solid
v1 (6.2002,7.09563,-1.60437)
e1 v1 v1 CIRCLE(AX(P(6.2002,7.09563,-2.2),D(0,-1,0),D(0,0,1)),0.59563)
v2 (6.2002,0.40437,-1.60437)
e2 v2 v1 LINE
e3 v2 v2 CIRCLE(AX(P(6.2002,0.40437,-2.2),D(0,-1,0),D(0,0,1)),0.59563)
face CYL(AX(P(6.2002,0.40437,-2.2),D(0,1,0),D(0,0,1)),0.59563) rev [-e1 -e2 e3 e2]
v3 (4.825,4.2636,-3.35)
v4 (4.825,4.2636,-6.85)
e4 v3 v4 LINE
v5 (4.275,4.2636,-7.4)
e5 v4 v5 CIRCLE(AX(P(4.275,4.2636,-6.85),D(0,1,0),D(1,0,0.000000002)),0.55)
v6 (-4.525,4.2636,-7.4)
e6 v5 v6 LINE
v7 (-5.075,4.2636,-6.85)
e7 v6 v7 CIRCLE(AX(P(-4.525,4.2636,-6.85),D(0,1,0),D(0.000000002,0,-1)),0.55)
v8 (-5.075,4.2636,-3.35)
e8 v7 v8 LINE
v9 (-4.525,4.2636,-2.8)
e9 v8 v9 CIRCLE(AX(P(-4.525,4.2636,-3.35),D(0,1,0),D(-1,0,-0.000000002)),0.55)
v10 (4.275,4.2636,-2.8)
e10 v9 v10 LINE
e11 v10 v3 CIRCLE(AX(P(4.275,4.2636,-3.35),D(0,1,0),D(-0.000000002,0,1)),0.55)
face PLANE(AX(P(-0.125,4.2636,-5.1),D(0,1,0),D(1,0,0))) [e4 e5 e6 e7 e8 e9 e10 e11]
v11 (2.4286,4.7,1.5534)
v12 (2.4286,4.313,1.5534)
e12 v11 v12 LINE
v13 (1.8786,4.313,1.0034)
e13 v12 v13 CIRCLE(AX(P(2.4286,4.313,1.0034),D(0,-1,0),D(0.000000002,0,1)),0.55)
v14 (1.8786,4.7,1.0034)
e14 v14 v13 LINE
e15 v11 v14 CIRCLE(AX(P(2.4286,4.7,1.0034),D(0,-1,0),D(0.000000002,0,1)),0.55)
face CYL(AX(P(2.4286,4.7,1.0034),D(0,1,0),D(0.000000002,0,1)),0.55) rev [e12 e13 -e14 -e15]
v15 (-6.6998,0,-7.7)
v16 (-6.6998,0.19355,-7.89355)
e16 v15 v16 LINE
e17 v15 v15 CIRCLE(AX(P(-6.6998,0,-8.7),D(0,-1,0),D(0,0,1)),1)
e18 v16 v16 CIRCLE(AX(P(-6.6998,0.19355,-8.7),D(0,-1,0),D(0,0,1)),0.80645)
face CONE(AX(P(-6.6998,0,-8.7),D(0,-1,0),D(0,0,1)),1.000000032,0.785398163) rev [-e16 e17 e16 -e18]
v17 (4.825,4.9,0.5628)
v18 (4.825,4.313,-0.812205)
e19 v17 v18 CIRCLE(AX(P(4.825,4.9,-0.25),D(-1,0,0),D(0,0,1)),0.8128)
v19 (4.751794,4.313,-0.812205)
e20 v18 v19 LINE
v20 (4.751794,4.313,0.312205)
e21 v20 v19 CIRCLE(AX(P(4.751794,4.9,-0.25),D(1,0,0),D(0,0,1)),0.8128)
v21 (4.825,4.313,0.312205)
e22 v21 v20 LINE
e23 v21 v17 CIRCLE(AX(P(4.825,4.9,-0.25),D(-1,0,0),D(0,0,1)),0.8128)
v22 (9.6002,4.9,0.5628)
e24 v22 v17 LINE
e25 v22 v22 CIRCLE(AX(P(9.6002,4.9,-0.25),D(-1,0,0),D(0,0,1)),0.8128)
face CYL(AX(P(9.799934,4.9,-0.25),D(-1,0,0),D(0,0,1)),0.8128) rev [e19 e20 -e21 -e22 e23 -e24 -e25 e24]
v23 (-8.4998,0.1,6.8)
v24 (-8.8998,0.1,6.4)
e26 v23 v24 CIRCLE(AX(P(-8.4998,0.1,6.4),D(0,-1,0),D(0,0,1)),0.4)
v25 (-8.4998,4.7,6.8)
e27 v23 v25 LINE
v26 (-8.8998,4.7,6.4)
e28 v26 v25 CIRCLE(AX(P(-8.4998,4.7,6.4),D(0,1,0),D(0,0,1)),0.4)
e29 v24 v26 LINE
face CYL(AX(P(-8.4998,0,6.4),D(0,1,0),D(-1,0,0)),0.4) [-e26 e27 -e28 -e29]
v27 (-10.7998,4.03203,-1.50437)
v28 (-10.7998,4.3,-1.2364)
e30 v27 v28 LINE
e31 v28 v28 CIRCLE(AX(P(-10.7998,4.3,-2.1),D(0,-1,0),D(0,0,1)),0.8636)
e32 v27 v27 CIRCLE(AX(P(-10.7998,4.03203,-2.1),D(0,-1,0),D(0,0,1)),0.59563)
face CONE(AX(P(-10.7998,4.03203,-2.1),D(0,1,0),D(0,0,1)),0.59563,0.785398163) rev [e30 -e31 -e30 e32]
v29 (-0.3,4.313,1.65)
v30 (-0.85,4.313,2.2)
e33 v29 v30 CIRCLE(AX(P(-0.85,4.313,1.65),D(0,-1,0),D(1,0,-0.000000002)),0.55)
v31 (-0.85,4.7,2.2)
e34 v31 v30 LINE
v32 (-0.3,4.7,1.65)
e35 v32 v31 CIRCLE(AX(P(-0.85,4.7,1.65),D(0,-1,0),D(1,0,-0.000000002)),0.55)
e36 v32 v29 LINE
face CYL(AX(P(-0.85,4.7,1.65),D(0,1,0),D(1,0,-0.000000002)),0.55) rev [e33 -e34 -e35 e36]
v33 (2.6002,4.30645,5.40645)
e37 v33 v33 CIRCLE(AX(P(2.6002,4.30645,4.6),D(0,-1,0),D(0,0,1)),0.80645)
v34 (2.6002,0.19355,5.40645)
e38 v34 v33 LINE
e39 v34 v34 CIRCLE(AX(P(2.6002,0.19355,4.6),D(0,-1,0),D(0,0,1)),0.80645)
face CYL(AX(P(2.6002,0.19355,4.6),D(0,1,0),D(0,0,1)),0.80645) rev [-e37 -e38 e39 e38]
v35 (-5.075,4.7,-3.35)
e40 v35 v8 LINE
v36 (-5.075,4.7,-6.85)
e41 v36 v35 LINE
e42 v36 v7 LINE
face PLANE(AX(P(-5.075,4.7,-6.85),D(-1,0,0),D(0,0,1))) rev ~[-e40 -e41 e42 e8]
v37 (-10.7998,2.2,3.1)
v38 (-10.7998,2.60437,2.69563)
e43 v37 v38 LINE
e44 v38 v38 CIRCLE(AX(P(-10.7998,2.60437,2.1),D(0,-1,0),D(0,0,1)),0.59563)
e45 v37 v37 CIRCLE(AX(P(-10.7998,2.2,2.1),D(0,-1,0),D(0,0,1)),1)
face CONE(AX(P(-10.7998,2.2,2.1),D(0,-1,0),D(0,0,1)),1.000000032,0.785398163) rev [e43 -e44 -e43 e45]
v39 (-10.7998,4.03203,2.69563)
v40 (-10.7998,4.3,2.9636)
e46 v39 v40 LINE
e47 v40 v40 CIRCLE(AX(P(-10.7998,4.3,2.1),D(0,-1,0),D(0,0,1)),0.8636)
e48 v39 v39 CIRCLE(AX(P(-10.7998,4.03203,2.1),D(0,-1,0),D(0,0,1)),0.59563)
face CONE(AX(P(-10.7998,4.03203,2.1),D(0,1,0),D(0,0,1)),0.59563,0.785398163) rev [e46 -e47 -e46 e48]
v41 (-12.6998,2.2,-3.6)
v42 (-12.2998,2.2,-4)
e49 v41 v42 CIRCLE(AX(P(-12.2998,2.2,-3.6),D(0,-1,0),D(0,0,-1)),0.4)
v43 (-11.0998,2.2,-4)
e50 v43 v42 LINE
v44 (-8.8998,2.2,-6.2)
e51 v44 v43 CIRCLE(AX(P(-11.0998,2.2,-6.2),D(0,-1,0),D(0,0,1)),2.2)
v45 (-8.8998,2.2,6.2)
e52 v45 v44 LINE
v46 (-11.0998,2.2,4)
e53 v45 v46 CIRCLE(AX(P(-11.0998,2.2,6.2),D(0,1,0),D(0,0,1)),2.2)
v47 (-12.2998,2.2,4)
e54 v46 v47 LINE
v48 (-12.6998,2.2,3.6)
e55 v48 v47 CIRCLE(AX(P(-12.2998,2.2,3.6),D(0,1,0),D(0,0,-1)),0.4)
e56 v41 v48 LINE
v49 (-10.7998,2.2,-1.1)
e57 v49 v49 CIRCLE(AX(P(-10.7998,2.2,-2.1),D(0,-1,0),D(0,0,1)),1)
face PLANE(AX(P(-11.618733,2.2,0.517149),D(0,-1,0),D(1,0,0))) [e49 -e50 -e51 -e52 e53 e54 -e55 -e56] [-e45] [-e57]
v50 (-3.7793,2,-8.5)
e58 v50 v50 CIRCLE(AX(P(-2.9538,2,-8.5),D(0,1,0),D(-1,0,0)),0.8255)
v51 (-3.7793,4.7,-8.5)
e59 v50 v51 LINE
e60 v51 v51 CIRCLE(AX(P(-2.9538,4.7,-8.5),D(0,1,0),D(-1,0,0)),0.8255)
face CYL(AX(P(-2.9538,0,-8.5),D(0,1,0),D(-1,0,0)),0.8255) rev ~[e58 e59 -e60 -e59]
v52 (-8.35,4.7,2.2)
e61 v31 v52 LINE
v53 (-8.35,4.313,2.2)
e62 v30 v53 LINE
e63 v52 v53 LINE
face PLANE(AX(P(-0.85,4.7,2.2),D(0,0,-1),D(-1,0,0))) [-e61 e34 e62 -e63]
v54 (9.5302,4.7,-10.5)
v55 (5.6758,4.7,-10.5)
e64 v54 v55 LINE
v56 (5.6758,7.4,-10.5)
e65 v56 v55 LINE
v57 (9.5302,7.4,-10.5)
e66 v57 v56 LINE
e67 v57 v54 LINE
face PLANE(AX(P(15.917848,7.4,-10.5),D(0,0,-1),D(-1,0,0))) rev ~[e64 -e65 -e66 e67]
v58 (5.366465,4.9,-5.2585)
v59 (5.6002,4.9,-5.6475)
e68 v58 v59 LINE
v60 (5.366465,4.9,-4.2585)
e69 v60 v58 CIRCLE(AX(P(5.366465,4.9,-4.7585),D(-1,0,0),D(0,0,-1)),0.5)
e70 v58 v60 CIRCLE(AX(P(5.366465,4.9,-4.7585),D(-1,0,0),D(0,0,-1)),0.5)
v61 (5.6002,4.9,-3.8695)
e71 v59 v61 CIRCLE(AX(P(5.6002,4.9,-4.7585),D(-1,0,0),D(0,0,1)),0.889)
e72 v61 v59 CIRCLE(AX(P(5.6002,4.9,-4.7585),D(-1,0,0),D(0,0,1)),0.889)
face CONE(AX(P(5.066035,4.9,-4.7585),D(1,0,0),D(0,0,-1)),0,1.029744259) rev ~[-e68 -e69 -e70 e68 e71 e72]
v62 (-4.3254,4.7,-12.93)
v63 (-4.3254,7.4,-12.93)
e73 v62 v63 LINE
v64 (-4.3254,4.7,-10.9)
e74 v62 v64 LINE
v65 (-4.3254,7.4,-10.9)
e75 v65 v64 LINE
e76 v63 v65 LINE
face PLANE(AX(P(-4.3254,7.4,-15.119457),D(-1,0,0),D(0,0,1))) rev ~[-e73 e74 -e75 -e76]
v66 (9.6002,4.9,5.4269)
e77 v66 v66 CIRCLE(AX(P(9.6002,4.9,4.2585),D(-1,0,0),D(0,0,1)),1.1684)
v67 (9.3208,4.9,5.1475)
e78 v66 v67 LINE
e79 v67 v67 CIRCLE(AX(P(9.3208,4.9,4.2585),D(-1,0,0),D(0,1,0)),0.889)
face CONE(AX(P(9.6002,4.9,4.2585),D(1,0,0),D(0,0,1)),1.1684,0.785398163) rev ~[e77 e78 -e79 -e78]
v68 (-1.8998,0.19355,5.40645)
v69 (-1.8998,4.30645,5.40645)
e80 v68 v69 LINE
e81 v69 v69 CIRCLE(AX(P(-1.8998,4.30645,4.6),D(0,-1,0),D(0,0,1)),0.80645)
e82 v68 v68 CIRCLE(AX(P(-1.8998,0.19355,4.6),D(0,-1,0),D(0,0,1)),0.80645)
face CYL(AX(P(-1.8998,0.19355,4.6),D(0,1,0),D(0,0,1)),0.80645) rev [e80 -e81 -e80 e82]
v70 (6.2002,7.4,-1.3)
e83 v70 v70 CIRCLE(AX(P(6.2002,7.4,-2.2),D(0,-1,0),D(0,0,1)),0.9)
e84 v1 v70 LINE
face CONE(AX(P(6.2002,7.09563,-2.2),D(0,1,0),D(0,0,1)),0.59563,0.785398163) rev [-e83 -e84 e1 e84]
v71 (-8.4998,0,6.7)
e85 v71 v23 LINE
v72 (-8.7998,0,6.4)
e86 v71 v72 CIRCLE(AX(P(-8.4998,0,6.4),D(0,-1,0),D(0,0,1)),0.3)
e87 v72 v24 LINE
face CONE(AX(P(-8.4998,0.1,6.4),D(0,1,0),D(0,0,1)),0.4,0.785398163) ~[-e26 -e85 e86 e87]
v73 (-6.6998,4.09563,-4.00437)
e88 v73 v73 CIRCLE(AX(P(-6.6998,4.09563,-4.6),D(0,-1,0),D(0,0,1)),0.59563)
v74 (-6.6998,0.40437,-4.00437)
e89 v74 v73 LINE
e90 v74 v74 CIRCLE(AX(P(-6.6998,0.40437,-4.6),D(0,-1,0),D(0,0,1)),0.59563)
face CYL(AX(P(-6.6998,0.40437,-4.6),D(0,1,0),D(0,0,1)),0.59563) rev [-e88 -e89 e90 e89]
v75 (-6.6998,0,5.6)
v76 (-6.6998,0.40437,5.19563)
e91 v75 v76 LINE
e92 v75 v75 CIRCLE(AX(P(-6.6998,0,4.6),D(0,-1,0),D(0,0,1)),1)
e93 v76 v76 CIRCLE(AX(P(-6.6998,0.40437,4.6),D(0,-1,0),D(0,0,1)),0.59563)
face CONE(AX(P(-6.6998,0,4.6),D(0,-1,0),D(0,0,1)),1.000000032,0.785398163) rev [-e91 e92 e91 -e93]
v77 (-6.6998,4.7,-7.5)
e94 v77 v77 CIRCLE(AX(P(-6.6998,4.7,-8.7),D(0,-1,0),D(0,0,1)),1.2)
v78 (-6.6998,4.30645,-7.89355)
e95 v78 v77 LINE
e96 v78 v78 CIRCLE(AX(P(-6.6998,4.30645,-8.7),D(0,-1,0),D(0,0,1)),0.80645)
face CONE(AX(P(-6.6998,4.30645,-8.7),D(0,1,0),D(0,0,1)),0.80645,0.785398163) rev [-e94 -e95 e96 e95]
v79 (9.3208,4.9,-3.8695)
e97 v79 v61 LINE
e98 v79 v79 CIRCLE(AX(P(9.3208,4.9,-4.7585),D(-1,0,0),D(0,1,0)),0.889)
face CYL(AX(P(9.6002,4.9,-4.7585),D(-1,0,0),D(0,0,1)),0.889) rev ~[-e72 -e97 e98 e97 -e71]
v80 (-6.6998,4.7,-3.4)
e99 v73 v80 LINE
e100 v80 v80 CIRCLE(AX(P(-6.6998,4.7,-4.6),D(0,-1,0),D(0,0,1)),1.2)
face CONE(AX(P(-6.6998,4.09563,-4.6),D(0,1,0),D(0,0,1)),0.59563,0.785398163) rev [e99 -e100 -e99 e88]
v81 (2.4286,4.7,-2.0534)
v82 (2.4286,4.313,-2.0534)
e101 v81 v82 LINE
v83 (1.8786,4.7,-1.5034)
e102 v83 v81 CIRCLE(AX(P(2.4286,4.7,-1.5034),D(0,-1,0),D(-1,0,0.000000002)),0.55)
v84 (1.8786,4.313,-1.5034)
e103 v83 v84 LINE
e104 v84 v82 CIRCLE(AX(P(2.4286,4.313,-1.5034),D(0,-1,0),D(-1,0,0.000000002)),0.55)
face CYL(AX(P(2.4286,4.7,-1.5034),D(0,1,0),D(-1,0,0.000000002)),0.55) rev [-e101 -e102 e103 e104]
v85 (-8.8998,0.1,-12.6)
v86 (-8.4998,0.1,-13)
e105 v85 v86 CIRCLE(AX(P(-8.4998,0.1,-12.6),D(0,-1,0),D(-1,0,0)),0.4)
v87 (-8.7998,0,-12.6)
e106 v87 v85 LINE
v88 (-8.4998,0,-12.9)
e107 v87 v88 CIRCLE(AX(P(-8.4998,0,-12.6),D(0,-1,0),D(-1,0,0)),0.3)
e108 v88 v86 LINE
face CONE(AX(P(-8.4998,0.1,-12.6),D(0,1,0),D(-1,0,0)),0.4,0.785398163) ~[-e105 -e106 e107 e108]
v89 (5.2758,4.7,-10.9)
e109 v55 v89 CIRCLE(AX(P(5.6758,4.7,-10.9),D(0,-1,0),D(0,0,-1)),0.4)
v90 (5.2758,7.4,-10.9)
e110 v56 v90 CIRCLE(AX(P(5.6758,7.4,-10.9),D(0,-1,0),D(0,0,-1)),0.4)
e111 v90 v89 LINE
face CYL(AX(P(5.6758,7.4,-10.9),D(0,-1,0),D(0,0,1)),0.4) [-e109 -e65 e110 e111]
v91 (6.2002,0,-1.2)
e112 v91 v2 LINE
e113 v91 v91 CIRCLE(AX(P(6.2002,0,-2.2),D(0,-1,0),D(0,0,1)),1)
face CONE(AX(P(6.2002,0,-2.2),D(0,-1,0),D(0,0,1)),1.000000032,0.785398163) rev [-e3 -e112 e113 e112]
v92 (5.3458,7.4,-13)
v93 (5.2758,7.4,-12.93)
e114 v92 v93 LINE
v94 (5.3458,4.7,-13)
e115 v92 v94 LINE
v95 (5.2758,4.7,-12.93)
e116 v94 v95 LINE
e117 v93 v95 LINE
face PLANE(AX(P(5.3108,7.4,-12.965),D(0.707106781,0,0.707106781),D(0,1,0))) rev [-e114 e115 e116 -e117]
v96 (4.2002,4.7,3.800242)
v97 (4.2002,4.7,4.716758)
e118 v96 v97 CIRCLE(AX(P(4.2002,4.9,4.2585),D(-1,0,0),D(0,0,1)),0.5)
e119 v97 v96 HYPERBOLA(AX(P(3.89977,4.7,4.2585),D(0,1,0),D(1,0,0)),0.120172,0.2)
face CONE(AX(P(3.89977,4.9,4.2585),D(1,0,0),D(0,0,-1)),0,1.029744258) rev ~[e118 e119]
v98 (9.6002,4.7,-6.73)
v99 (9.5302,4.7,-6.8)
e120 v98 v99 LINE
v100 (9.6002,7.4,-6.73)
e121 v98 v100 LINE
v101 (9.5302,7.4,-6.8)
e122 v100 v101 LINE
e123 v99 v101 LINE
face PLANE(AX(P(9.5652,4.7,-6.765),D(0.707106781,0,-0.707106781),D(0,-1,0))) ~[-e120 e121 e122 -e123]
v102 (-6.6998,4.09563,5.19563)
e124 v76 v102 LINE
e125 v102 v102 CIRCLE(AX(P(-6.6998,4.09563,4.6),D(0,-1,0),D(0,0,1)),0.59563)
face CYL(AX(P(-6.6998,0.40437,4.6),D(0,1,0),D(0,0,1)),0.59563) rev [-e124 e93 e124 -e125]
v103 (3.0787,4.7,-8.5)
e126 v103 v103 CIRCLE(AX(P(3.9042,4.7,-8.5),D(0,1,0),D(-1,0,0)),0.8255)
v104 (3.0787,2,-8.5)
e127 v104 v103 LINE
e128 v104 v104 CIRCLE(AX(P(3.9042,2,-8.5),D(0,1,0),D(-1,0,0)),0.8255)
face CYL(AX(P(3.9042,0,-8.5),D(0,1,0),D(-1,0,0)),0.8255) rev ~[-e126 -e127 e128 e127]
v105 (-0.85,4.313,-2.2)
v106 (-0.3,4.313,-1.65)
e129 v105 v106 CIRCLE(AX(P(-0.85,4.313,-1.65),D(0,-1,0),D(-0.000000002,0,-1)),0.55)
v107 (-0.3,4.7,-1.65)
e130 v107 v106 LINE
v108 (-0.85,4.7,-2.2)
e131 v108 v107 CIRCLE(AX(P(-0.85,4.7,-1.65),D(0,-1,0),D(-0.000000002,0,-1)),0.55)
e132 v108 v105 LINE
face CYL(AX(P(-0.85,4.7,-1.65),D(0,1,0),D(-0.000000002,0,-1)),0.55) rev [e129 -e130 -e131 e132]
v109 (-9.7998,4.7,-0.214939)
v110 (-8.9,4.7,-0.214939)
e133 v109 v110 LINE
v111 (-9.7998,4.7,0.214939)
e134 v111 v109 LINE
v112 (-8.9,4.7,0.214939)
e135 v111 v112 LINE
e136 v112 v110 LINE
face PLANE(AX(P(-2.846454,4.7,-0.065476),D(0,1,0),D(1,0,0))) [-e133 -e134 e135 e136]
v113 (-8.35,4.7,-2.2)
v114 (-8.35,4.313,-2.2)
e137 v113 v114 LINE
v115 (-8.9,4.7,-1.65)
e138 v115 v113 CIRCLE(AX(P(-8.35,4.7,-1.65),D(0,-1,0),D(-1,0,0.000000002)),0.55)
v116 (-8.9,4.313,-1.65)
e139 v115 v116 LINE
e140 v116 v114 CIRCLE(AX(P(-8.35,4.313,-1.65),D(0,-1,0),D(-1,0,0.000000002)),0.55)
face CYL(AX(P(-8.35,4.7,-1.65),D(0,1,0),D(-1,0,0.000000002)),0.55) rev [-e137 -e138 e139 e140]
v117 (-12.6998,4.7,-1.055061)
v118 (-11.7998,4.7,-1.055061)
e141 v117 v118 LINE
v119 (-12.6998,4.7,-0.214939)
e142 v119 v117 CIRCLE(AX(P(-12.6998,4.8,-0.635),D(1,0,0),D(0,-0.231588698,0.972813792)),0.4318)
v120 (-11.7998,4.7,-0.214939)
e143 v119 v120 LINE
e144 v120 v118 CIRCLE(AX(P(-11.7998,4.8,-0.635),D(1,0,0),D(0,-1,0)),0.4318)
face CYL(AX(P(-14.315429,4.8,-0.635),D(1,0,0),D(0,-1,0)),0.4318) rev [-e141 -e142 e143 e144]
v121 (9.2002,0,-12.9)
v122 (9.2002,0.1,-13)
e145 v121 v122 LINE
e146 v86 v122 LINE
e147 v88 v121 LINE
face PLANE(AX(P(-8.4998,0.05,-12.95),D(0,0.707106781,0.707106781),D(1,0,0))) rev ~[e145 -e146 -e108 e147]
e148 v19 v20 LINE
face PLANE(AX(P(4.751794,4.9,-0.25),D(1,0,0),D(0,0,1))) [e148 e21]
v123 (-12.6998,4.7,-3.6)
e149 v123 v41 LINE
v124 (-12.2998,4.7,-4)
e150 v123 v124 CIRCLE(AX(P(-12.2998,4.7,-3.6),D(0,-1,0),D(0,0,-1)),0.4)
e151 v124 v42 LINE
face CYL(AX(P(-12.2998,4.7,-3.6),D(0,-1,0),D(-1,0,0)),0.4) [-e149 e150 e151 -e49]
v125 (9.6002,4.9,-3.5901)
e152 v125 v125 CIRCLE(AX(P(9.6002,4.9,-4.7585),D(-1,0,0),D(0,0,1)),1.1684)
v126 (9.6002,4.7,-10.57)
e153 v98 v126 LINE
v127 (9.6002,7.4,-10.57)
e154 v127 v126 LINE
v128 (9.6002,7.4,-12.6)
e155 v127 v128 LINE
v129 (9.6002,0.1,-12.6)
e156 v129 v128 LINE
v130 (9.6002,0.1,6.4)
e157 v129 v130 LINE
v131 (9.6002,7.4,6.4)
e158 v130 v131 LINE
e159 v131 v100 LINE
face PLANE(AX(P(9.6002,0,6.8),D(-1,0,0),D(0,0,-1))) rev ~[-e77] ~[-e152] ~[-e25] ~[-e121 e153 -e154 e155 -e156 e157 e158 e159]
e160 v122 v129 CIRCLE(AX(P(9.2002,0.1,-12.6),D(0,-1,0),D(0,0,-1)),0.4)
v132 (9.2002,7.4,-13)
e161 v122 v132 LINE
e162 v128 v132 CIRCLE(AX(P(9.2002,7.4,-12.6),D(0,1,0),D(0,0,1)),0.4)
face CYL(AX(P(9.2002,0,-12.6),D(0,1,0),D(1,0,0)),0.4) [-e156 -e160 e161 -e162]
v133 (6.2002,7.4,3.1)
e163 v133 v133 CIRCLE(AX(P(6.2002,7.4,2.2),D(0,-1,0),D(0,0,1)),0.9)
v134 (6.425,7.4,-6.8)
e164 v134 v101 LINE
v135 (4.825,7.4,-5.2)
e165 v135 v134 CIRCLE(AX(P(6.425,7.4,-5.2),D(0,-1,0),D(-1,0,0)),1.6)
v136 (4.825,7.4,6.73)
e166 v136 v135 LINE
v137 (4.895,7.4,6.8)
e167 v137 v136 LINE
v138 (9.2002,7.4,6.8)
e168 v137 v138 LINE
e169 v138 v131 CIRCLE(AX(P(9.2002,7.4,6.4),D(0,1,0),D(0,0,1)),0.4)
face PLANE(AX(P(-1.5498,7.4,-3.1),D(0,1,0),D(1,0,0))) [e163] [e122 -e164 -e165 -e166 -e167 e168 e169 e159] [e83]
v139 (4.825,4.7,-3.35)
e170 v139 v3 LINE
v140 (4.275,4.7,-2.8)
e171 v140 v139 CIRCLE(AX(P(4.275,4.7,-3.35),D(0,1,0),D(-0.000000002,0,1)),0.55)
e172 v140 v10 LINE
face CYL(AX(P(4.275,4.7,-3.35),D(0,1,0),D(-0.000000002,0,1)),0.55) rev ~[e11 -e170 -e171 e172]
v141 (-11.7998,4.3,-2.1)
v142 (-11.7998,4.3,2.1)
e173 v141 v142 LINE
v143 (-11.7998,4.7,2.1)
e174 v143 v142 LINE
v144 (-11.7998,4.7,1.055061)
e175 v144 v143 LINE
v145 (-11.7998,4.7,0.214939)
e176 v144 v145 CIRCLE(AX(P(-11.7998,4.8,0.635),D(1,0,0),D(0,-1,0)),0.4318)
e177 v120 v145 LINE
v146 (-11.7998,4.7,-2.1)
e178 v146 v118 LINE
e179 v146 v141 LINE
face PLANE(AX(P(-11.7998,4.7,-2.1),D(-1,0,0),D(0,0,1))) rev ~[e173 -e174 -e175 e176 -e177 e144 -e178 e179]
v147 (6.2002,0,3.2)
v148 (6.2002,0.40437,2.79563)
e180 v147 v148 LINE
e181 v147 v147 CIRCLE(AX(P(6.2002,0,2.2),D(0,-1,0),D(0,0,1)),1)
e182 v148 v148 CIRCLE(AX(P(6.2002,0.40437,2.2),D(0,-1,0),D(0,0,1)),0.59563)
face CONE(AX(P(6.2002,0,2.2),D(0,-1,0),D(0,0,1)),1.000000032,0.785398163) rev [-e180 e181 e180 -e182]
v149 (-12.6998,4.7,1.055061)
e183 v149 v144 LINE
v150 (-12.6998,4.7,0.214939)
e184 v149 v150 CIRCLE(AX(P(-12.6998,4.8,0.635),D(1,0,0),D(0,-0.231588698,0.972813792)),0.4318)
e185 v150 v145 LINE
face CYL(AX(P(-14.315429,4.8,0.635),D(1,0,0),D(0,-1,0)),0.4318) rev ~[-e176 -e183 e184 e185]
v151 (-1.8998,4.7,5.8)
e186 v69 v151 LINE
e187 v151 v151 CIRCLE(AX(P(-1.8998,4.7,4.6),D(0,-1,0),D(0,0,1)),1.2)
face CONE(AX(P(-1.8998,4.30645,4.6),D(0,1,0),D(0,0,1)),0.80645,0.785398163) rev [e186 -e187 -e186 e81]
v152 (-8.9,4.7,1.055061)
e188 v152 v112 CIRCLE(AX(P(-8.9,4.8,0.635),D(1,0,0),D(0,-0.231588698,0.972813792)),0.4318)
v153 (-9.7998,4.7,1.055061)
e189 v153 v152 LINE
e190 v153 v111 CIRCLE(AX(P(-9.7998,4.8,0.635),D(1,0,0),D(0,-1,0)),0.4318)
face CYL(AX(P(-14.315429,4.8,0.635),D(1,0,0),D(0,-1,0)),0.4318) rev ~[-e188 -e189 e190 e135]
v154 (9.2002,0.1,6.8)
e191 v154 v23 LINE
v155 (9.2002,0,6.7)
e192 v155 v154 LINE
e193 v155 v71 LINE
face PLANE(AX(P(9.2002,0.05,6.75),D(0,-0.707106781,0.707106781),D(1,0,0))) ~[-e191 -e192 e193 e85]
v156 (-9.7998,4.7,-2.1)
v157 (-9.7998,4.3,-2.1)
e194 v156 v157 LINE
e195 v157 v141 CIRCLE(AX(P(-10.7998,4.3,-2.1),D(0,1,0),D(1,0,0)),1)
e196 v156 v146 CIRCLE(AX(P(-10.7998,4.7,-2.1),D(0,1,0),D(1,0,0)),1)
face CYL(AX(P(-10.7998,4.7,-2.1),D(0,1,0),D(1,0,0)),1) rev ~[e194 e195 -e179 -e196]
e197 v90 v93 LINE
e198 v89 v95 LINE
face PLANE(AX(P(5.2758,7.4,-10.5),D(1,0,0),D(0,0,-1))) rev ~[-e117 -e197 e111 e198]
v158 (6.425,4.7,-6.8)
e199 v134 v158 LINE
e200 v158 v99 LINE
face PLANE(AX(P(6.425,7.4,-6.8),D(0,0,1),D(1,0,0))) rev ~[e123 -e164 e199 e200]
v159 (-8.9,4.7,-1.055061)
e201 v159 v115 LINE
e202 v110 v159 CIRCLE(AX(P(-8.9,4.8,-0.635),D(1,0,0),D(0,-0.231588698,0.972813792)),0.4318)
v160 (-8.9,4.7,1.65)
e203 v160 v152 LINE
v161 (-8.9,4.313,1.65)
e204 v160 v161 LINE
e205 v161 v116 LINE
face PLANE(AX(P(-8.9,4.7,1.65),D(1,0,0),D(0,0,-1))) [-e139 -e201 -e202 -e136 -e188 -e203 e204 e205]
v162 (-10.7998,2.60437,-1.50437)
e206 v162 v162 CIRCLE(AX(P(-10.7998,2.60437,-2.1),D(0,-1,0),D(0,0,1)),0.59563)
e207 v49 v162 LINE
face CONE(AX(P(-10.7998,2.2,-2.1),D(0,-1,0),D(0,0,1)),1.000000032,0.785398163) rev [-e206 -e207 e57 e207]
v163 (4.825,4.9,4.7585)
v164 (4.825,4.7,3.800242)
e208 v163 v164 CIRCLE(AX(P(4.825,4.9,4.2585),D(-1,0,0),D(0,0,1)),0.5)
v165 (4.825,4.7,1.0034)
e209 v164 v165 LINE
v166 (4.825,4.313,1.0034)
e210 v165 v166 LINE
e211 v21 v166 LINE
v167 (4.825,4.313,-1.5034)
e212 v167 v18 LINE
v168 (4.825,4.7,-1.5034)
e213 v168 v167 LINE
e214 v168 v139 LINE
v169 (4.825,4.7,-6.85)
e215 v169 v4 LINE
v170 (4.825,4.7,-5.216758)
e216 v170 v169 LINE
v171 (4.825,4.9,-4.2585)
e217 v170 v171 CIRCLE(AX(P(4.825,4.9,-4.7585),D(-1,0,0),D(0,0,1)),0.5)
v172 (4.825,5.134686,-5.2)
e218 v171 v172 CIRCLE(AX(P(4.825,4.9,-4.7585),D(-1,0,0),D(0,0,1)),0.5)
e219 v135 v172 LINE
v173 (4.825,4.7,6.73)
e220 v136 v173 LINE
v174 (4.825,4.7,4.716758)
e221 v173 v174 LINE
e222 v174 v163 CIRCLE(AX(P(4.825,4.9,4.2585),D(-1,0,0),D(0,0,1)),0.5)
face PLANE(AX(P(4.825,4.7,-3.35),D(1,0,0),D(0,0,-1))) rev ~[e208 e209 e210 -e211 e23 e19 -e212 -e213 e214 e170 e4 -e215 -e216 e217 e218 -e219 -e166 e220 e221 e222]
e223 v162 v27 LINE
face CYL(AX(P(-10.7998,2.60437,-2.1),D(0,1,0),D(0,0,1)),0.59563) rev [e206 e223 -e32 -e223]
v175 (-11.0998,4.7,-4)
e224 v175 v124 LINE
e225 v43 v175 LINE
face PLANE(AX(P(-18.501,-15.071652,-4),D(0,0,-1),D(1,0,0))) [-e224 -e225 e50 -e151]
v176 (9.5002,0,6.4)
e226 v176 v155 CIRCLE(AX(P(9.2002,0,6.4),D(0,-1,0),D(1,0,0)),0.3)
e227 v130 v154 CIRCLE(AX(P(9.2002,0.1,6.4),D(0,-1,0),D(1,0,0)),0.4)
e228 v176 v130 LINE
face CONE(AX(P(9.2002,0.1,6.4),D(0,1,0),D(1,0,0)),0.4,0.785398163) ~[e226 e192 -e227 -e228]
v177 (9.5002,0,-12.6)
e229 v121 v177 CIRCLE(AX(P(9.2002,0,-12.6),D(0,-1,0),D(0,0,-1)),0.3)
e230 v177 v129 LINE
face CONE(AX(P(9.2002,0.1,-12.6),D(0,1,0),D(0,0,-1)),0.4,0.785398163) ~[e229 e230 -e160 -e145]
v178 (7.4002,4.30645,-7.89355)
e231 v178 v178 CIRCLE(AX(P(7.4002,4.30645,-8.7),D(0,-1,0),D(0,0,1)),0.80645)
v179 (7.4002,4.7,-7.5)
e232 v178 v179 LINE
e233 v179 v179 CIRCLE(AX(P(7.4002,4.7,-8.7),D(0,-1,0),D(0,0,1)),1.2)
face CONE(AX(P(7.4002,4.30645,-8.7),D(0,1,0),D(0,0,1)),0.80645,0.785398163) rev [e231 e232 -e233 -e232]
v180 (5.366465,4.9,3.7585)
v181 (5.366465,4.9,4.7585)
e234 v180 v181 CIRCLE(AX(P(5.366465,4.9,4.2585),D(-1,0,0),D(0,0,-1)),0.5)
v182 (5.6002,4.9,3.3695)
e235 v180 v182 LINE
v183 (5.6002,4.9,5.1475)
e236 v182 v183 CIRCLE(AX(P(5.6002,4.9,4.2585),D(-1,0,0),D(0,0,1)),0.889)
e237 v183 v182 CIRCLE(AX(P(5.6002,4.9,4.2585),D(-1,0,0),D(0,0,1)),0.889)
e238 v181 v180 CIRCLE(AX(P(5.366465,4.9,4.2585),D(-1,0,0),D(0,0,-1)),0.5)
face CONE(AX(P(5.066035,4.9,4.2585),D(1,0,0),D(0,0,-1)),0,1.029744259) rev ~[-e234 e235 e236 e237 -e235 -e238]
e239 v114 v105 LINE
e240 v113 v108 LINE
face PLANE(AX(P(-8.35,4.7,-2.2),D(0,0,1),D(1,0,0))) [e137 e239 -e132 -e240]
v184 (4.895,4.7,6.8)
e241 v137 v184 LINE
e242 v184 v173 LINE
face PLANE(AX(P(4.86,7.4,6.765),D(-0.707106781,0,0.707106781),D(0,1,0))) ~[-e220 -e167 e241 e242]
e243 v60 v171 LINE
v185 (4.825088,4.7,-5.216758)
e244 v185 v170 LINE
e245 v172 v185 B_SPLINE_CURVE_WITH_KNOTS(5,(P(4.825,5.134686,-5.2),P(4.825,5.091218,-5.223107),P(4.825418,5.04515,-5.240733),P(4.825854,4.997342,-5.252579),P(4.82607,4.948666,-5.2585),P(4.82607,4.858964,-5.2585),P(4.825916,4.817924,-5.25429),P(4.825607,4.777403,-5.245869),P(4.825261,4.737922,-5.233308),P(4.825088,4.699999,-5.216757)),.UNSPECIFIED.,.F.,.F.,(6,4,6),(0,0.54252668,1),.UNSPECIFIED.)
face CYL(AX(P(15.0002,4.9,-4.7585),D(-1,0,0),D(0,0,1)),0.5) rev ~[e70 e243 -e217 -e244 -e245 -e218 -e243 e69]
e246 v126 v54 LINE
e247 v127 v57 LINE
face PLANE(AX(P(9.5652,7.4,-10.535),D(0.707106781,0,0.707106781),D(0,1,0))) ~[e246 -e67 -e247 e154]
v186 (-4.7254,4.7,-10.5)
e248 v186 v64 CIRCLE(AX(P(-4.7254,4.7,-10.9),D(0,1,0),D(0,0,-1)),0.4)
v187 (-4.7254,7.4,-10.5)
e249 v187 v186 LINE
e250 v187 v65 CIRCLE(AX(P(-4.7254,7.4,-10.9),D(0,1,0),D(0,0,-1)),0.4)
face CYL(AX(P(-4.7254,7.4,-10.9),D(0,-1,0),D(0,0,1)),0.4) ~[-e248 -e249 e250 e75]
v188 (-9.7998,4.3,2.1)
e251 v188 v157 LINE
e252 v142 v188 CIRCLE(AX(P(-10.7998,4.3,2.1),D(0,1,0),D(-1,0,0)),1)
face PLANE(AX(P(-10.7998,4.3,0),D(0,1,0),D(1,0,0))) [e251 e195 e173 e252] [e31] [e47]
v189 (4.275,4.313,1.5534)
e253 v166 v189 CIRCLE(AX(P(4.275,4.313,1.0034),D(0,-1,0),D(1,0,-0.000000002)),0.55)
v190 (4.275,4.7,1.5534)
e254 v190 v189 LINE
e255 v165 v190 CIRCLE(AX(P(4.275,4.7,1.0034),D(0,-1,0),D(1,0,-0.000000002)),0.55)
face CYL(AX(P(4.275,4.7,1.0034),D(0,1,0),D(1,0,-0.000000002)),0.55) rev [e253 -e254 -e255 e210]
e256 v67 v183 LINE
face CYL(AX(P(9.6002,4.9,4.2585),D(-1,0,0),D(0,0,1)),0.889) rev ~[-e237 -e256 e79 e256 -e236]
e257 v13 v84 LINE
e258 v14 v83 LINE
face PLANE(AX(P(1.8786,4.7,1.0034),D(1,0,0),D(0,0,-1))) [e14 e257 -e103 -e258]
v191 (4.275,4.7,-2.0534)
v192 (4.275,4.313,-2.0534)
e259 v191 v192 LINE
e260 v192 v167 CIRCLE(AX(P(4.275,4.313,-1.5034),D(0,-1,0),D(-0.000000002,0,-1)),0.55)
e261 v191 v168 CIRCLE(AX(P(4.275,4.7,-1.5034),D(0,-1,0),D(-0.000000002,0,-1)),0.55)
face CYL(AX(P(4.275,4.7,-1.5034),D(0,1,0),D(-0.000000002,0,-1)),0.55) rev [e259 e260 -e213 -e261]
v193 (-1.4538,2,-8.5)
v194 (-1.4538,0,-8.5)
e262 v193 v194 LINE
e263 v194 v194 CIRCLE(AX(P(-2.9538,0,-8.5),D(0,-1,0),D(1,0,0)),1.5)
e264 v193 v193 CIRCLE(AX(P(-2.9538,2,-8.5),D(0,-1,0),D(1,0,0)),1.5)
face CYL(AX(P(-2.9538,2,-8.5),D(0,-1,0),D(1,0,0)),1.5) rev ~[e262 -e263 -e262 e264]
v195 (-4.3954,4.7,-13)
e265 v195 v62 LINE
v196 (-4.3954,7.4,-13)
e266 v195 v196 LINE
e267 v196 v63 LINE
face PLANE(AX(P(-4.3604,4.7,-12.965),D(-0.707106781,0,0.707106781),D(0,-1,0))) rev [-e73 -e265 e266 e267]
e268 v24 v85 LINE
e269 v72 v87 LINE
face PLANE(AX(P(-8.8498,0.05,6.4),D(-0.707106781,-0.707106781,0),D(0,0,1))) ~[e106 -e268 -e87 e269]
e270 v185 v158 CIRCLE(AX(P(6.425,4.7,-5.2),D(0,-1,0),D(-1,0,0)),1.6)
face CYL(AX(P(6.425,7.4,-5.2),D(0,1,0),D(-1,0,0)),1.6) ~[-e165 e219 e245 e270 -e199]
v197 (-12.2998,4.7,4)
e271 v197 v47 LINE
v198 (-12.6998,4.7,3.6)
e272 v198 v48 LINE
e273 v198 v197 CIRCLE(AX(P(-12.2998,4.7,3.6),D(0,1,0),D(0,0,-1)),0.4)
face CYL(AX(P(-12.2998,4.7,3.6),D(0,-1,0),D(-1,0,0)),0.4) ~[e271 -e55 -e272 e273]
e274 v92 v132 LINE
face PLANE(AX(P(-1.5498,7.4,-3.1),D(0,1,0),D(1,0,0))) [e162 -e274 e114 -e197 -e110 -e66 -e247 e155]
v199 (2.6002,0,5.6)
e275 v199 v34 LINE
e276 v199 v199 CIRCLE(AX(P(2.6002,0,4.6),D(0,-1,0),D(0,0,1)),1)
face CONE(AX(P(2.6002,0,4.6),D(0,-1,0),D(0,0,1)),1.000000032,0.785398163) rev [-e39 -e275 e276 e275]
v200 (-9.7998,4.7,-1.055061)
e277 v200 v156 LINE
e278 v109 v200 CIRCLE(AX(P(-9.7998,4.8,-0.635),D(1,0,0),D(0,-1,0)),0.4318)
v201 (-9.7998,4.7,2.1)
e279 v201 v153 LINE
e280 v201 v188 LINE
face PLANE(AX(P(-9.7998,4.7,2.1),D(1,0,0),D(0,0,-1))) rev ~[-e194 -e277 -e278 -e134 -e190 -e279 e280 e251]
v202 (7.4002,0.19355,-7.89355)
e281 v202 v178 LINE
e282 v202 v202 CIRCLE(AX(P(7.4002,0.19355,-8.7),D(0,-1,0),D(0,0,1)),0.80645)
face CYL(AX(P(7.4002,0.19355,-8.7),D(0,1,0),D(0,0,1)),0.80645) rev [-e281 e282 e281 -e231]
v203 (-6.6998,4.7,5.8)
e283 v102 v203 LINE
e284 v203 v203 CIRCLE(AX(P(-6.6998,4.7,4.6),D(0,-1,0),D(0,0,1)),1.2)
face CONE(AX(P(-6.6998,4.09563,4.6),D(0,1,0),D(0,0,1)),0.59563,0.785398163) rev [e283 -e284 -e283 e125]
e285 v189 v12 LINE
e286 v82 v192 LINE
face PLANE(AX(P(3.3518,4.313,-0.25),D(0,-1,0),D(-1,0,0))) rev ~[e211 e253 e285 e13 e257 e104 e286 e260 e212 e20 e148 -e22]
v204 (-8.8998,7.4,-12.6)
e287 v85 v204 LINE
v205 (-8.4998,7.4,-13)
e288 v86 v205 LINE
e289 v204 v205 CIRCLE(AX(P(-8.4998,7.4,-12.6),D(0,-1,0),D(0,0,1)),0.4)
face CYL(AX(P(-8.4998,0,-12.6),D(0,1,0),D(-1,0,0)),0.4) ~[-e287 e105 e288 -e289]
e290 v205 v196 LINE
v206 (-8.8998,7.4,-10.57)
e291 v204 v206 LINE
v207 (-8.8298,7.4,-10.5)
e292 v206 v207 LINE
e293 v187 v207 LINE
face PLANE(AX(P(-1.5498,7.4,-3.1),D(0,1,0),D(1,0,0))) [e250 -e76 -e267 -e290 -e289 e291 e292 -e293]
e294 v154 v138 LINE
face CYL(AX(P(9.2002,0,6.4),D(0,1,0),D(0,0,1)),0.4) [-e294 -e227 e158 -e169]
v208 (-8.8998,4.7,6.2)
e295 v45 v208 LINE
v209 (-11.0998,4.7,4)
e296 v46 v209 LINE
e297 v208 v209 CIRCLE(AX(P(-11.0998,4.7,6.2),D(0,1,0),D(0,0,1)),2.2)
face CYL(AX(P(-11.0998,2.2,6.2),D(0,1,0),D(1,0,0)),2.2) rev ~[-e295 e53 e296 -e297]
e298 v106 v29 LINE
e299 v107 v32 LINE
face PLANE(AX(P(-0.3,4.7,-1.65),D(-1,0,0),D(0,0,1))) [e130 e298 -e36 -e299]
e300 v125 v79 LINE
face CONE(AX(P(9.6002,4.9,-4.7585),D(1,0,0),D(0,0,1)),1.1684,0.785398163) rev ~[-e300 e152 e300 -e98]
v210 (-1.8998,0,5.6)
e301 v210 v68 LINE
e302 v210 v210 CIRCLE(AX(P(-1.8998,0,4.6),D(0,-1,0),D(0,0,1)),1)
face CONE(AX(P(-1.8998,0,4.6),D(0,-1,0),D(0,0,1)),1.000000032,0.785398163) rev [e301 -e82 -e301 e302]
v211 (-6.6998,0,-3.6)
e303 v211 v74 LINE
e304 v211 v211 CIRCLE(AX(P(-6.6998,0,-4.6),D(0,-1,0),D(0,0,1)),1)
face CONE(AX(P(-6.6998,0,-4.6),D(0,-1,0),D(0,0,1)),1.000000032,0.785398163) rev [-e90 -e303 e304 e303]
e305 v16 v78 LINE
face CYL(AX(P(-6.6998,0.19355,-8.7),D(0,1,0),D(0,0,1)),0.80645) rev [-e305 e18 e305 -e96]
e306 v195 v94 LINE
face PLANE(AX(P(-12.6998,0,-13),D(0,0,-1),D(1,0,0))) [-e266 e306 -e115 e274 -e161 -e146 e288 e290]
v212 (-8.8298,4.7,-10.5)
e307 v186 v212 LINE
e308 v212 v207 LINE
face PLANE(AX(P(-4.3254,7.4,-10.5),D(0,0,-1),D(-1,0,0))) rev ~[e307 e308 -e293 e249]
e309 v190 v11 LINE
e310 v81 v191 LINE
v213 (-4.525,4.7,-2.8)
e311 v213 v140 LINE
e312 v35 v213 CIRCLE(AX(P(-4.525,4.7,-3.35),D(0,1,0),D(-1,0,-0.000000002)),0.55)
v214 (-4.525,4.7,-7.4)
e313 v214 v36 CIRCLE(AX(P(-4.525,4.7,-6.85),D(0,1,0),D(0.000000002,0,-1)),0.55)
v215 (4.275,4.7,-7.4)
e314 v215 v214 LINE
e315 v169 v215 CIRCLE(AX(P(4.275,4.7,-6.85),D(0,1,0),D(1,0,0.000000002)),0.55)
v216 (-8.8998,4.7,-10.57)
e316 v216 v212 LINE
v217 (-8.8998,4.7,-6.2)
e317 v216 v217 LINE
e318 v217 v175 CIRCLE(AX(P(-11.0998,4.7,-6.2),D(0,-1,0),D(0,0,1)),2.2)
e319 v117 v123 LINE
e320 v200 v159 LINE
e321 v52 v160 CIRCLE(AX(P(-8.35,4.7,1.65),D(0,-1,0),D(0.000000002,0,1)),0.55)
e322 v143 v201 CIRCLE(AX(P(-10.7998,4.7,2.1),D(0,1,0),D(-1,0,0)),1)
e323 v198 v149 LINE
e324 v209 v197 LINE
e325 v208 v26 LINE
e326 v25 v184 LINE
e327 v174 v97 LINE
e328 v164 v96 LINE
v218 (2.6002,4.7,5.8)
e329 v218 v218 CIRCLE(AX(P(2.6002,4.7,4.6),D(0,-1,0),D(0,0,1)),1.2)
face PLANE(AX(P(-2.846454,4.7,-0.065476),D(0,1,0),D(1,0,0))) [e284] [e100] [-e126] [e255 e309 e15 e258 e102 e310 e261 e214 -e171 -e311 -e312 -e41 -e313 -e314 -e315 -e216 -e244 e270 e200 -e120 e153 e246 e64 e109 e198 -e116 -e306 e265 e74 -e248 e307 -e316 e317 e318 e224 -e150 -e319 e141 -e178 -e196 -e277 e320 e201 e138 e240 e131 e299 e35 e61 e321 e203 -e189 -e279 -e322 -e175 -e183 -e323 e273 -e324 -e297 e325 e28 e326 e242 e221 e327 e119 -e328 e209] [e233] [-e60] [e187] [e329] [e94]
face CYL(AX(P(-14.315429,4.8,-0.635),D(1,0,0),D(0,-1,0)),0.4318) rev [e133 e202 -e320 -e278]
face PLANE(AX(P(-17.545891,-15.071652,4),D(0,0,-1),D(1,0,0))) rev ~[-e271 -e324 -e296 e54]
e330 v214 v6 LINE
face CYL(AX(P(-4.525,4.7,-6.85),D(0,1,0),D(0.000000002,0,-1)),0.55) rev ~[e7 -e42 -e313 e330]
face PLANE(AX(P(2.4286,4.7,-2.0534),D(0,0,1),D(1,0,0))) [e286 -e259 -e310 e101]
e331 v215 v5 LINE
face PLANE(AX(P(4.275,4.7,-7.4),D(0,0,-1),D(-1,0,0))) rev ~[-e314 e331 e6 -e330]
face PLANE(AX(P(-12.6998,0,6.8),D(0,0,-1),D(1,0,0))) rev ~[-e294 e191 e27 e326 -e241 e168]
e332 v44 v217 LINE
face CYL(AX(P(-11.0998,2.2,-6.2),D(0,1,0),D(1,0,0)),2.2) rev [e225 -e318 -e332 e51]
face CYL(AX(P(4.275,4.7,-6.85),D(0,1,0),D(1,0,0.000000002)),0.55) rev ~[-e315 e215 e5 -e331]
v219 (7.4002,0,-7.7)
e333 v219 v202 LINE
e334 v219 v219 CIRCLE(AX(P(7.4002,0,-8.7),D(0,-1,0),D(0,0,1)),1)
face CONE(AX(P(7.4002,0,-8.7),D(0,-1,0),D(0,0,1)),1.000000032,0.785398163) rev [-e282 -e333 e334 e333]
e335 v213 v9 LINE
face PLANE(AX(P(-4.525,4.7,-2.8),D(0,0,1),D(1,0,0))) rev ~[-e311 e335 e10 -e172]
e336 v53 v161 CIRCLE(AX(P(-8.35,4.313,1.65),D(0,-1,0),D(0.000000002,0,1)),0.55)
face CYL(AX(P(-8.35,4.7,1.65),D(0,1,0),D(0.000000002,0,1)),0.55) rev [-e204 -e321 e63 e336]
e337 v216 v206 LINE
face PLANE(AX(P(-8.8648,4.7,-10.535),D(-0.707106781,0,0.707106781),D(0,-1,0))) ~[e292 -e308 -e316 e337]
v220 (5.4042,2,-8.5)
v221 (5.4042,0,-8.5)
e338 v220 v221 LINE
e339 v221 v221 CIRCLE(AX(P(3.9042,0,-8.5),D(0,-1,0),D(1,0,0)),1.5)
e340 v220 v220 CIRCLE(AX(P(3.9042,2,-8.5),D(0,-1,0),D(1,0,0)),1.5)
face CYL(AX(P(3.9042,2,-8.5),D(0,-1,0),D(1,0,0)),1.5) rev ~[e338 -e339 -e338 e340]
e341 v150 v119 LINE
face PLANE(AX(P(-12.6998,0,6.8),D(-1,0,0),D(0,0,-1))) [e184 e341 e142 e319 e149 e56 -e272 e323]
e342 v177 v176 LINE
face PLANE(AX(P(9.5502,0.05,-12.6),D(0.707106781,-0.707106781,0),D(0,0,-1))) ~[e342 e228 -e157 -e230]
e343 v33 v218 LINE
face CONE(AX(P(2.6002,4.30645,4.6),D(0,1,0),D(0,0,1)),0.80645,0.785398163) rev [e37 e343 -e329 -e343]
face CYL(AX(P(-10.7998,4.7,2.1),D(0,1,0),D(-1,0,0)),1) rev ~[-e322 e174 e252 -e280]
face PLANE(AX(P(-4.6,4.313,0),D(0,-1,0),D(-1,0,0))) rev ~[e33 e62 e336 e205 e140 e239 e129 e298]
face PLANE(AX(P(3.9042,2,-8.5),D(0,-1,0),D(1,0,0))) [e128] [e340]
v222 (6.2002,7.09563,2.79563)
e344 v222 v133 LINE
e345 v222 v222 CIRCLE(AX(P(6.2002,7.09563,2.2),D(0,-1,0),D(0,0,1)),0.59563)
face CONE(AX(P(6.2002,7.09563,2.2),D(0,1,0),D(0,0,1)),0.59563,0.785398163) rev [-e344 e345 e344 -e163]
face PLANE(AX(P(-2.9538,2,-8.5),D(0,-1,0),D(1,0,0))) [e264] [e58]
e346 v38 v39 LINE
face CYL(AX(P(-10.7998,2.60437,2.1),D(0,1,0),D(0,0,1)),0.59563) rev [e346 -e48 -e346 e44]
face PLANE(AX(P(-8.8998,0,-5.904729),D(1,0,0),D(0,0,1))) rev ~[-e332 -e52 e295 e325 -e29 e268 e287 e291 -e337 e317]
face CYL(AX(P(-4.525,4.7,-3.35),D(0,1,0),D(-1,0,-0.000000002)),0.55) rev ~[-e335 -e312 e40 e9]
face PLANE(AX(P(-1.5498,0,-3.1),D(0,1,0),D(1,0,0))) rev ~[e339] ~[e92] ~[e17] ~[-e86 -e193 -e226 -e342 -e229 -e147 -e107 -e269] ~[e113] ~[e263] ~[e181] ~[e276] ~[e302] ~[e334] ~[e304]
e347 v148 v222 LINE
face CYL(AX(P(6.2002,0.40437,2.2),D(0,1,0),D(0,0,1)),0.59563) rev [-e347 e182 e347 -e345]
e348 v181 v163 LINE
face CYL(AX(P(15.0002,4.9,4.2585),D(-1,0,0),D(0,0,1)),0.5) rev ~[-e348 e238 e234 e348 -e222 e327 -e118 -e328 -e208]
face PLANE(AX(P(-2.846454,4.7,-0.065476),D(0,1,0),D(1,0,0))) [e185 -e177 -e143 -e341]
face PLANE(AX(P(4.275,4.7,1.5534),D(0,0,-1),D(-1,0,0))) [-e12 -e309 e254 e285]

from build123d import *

# Parameters (mm, degrees)
SKETCH1_W                             = 22.3
SKETCH1_H                             = 19.8
BOSS_EXTRUDE1_DEPTH                   = 7.4
CUT_EXTRUDE8_DEPTH                    = 2.7
CUT_EXTRUDE6_DEPTH                    = 19.771652033
CUT_EXTRUDE6_DEPTH_BACK               = 19.771652033
SKETCH9_W                             = 9.6012
SKETCH9_H                             = 16.490065767
SKETCH9_W_2                           = 8.646091416
SKETCH9_H_2                           = 7.298316027
CUT_EXTRUDE2_DEPTH                    = 0.4364
CUT_EXTRUDE3_DEPTH                    = 0.387
CUT_EXTRUDE4_DEPTH                    = 0.387
CE_00_CLAMP_RELIEF_DEPTH              = 0.4
SKETCH50_W                            = 5.437865468
SKETCH50_H                            = 12.843757531
CE_00_CLAMP_UNDERCUT_DEPTH            = 2.2
F_0_80_TAPPED_HOLE_CLAMP_AT_2_COUNT   = 2
F_0_80_TAPPED_HOLE_CLAMP_AT_2_PITCH   = 4.2
F_0_COUNTERBORED_HOLE_D               = 1.651
F_0_COUNTERBORED_HOLE_CBORE_D         = 3
F_0_COUNTERBORED_HOLE_CBORE_DEPTH     = 2
F_0_80_TAPPED_HOLE2_AT_2_COUNT        = 2
F_0_80_TAPPED_HOLE2_AT_2_PITCH        = 9.2
F_52_0_0635_DIAMETER_HOLE2_AT_2_COUNT = 2
F_52_0_0635_DIAMETER_HOLE2_AT_2_PITCH = 4.5
F_0_CLEARANCE_HOLE2_AT_2_COUNT        = 2
F_0_CLEARANCE_HOLE2_AT_2_PITCH        = 14.1
F_0_80_TAPPED_HOLE7_AT_2_COUNT        = 2
F_0_80_TAPPED_HOLE7_AT_2_PITCH        = 4.4
F_2_56_TAPPED_HOLE1_D                 = 1.778
F_2_56_TAPPED_HOLE1_DEPTH             = 4
F_2_56_TAPPED_HOLE1_CSINK_D           = 2.3368
F_2_56_TAPPED_HOLE1_CSINK_ANGLE       = 90
F_2_56_TAPPED_HOLE1_TIP               = 0.53416509
F_1_0_1_DIAMETER_HOLE1_D              = 1
F_1_0_1_DIAMETER_HOLE1_DEPTH          = 5.4
F_1_0_1_DIAMETER_HOLE1_TIP            = 0.30043031
FILLET1_R                             = 0.4
FILLET2_R                             = 0.4
FILLET3_R                             = 2.2
CHAMFER_A_0_10MM_SIZE                 = 0.1
CHAMFER2_SIZE                         = 0.07


with BuildPart() as part:
    # Sketch1 → Boss-Extrude1 (new body)
    with BuildSketch(Plane(origin=(0, 0, 0), x_dir=(1, 0, 0), z_dir=(0, 1, 0))):
        with Locations((-1.5498, 3.1)):
            Rectangle(SKETCH1_W, SKETCH1_H)
    extrude(amount=BOSS_EXTRUDE1_DEPTH)

    # Sketch11 → Cut-Extrude8 (cut)
    with BuildSketch(Plane(origin=(0, 7.4, 0), x_dir=(1, 0, 0), z_dir=(0, 1, 0))):
        with BuildLine():
            Line((4.825, -17.149868936), (4.825, 5.2))
            ThreePointArc((4.825, 5.2), (5.29362915, 6.33137085), (6.425, 6.8))
            Line((6.425, 6.8), (15.917848471, 6.8))
            Line((15.917848471, 6.8), (15.917848471, 10.5))
            Line((15.917848471, 10.5), (5.2758, 10.5))
            Line((5.2758, 10.5), (5.2758, 15.119457422))
            Line((5.2758, 15.119457422), (-4.3254, 15.119457422))
            Line((-4.3254, 15.119457422), (-4.3254, 10.5))
            Line((-4.3254, 10.5), (-17.022656419, 10.5))
            Line((-17.022656419, 10.5), (-17.022656419, 3.556))
            Line((-17.022656419, 3.556), (-14.523625522, 3.556))
            ThreePointArc((-14.523625522, 3.556), (-14.099361454, 3.380264069), (-13.923625522, 2.956))
            Line((-13.923625522, 2.956), (-13.923625522, -7.02))
            ThreePointArc((-13.923625522, -7.02), (-14.099361454, -7.444264069), (-14.523625522, -7.62))
            Line((-14.523625522, -7.62), (-17.022656419, -7.62))
            Line((-17.022656419, -7.62), (-17.022656419, -17.149868936))
            Line((-17.022656419, -17.149868936), (4.825, -17.149868936))
        make_face()
    extrude(amount=-CUT_EXTRUDE8_DEPTH, mode=Mode.SUBTRACT)

    # Sketch9 → Cut-Extrude6 (cut, two sides: drawn at the far end of the back side and taken through both)
    with BuildSketch(Plane(origin=(0, 4.7, 0), x_dir=(1, 0, 0), z_dir=(0, 1, 0)).offset(-CUT_EXTRUDE6_DEPTH_BACK)):
        with Locations((-13.7004, 12.245032884)):
            Rectangle(SKETCH9_W, SKETCH9_H)
        with Locations((-13.222845708, -7.649158014)):
            Rectangle(SKETCH9_W_2, SKETCH9_H_2)
    extrude(amount=CUT_EXTRUDE6_DEPTH + CUT_EXTRUDE6_DEPTH_BACK, mode=Mode.SUBTRACT)

    # Sketch4 → Cut-Extrude2 (cut)
    with BuildSketch(Plane(origin=(0, 4.7, 0), x_dir=(1, 0, 0), z_dir=(0, 1, 0))):
        with BuildLine():
            Line((-5.075, 6.85), (-5.075, 3.35))
            ThreePointArc((-5.075, 3.35), (-4.91390873, 2.96109127), (-4.525, 2.8))
            Line((-4.525, 2.8), (4.275, 2.8))
            ThreePointArc((4.275, 2.8), (4.66390873, 2.96109127), (4.825, 3.35))
            Line((4.825, 3.35), (4.825, 6.85))
            ThreePointArc((4.825, 6.85), (4.66390873, 7.23890873), (4.275, 7.4))
            Line((4.275, 7.4), (-4.525, 7.4))
            ThreePointArc((-4.525, 7.4), (-4.91390873, 7.23890873), (-5.075, 6.85))
        make_face()
    extrude(amount=-CUT_EXTRUDE2_DEPTH, mode=Mode.SUBTRACT)

    # Sketch5 → Cut-Extrude3 (cut)
    with BuildSketch(Plane(origin=(0, 4.7, 0), x_dir=(1, 0, 0), z_dir=(0, 1, 0))):
        with BuildLine():
            Line((-8.35, 2.2), (-0.85, 2.2))
            ThreePointArc((-0.85, 2.2), (-0.46109127, 2.03890873), (-0.3, 1.65))
            Line((-0.3, 1.65), (-0.3, -1.65))
            ThreePointArc((-0.3, -1.65), (-0.46109127, -2.03890873), (-0.85, -2.2))
            Line((-0.85, -2.2), (-8.35, -2.2))
            ThreePointArc((-8.35, -2.2), (-8.73890873, -2.03890873), (-8.9, -1.65))
            Line((-8.9, -1.65), (-8.9, 1.65))
            ThreePointArc((-8.9, 1.65), (-8.73890873, 2.03890873), (-8.35, 2.2))
        make_face()
    extrude(amount=-CUT_EXTRUDE3_DEPTH, mode=Mode.SUBTRACT)

    # Sketch6 → Cut-Extrude4 (cut)
    with BuildSketch(Plane(origin=(0, 4.7, 0), x_dir=(1, 0, 0), z_dir=(0, 1, 0))):
        with BuildLine():
            Line((2.4286, 2.0534), (4.275, 2.0534))
            ThreePointArc((4.275, 2.0534), (4.66390873, 1.89230873), (4.825, 1.5034))
            Line((4.825, 1.5034), (4.825, -1.0034))
            ThreePointArc((4.825, -1.0034), (4.66390873, -1.39230873), (4.275, -1.5534))
            Line((4.275, -1.5534), (2.4286, -1.5534))
            ThreePointArc((2.4286, -1.5534), (2.03969127, -1.39230873), (1.8786, -1.0034))
            Line((1.8786, -1.0034), (1.8786, 1.5034))
            ThreePointArc((1.8786, 1.5034), (2.03969127, 1.89230873), (2.4286, 2.0534))
        make_face()
    extrude(amount=-CUT_EXTRUDE4_DEPTH, mode=Mode.SUBTRACT)

    # Sketch43 → CR-00 Input Coax Revolve (revolve, cut)
    with BuildSketch(Plane.XY.offset(-0.635)):
        with BuildLine():
            Line((-14.315428619, 4.3682), (-8.4998, 4.3682))
            ThreePointArc((-8.4998, 4.3682), (-8.194471292, 4.494671292), (-8.068, 4.8))
            Line((-8.068, 4.8), (-14.315428619, 4.8))
            Line((-14.315428619, 4.8), (-14.315428619, 4.3682))
        make_face()
    cr_00_input_coax_revolve = revolve(axis=Axis((-14.315428619, 4.8, -0.635), (-1, 0, 0)), mode=Mode.SUBTRACT)

    # MI-00 Input Coax Mirror: CR-00 Input Coax Revolve across plane
    add(cr_00_input_coax_revolve.mirror(Plane.XY), mode=Mode.SUBTRACT)

    # Sketch12 → CR-00 Output Hole & Sketch (revolve, cut)
    with BuildSketch(Plane(origin=(0, 4.9, 0), x_dir=(-1, 0, 0), z_dir=(0, 1, 0)), mode=Mode.PRIVATE) as cr_00_output_hole_sketch_sk:
        Polygon((-4.751793584, -0.25), (-11.196934048, -0.25), (-11.196934048, -1.012), (-10.196934048, -1.012), (-10.196934048, -0.9485), (-9.799934048, -0.9485), (-9.799934048, -1.0628), (-4.751793584, -1.0628), align=None)
    revolve(cr_00_output_hole_sketch_sk.sketch.rotate(Axis((11.196934048, 4.9, -0.25), (1, 0, 0)), 180), axis=Axis((11.196934048, 4.9, -0.25), (1, 0, 0)), mode=Mode.SUBTRACT)

    # Sketch46 → CE-00 Clamp Relief (cut)
    with BuildSketch(Plane(origin=(0, 4.7, 0), x_dir=(1, 0, 0), z_dir=(0, 1, 0))):
        with BuildLine():
            Line((-9.7998, -2.1), (-9.7998, 2.1))
            ThreePointArc((-9.7998, 2.1), (-10.7998, 3.1), (-11.7998, 2.1))
            Line((-11.7998, 2.1), (-11.7998, -2.1))
            ThreePointArc((-11.7998, -2.1), (-10.7998, -3.1), (-9.7998, -2.1))
        make_face()
    extrude(amount=-CE_00_CLAMP_RELIEF_DEPTH, mode=Mode.SUBTRACT)

    # Sketch50 → CE-00 Clamp Undercut (cut)
    with BuildSketch(Plane.XZ):
        with Locations((-11.618732734, 0.517149272)):
            Rectangle(SKETCH50_W, SKETCH50_H)
    extrude(amount=-CE_00_CLAMP_UNDERCUT_DEPTH, mode=Mode.SUBTRACT)

    # Sketch40 → #0-80 Tapped Hole Clamp (revolve, cut)
    with BuildSketch(Plane(origin=(-10.7998, 4.3, 2.1), x_dir=(0, 0, 1), z_dir=(1, 0, 0))):
        Polygon((0, 0), (0, 2.1), (1.000000032, 2.1), (0.59563, 1.695629968), (0.59563, 0.26797), (0.8636, 0), align=None)
    f_0_80_tapped_hole_clamp = revolve(axis=Axis((-10.7998, 10.65, 2.1), (0, -1, 0)), mode=Mode.SUBTRACT)

    # #0-80 Tapped Hole Clamp at 2: #0-80 Tapped Hole Clamp ×2
    with Locations(*[(0, 0, -i * F_0_80_TAPPED_HOLE_CLAMP_AT_2_PITCH) for i in range(1, F_0_80_TAPPED_HOLE_CLAMP_AT_2_COUNT)]):
        add(f_0_80_tapped_hole_clamp, mode=Mode.SUBTRACT)

    # #0 Counterbored Hole (through all)
    with Locations(Plane(origin=(3.077088049, 0, 3.306534169), x_dir=(1, 0, 0), z_dir=(0, -1, 0))):
        with Locations((0.827111951, -11.806534169), (-6.030888049, -11.806534169)):
            CounterBoreHole(F_0_COUNTERBORED_HOLE_D / 2, F_0_COUNTERBORED_HOLE_CBORE_D / 2, F_0_COUNTERBORED_HOLE_CBORE_DEPTH)

    # Sketch17 → #0-80 Tapped Hole2 (revolve, cut)
    with BuildSketch(Plane(origin=(-6.6998, 4.7, -4.6), x_dir=(0, 0, 1), z_dir=(1, 0, 0))):
        Polygon((0, 0), (0, 4.7), (1.000000032, 4.7), (0.59563, 4.295629968), (0.59563, 0.604370013), (1.200000013, 0), align=None)
    f_0_80_tapped_hole2 = revolve(axis=Axis((-6.6998, 11.05, -4.6), (0, -1, 0)), mode=Mode.SUBTRACT)

    # #0-80 Tapped Hole2 at 2: #0-80 Tapped Hole2 ×2
    with Locations(*[(0, 0, i * F_0_80_TAPPED_HOLE2_AT_2_PITCH) for i in range(1, F_0_80_TAPPED_HOLE2_AT_2_COUNT)]):
        add(f_0_80_tapped_hole2, mode=Mode.SUBTRACT)

    # Sketch19 → #52 (0.0635) Diameter Hole2 (revolve, cut)
    with BuildSketch(Plane(origin=(2.6002, 4.7, 4.6), x_dir=(0, 0, 1), z_dir=(1, 0, 0))):
        Polygon((0, 0), (0, 4.7), (1.000000032, 4.7), (0.80645, 4.506449968), (0.80645, 0.393550013), (1.200000013, 0), align=None)
    f_52_0_0635_diameter_hole2 = revolve(axis=Axis((2.6002, 11.05, 4.6), (0, -1, 0)), mode=Mode.SUBTRACT)

    # #52 (0.0635) Diameter Hole2 at 2: #52 (0.0635) Diameter Hole2 ×2
    with Locations(*[(-i * F_52_0_0635_DIAMETER_HOLE2_AT_2_PITCH, 0, 0) for i in range(1, F_52_0_0635_DIAMETER_HOLE2_AT_2_COUNT)]):
        add(f_52_0_0635_diameter_hole2, mode=Mode.SUBTRACT)

    # Sketch21 → #0 Clearance Hole2 (revolve, cut)
    with BuildSketch(Plane(origin=(7.4002, 4.7, -8.7), x_dir=(0, 0, 1), z_dir=(1, 0, 0))):
        Polygon((0, 0), (0, 4.7), (1.000000032, 4.7), (0.80645, 4.506449968), (0.80645, 0.393550013), (1.200000013, 0), align=None)
    f_0_clearance_hole2 = revolve(axis=Axis((7.4002, 11.05, -8.7), (0, -1, 0)), mode=Mode.SUBTRACT)

    # #0 Clearance Hole2 at 2: #0 Clearance Hole2 ×2
    with Locations(*[(-i * F_0_CLEARANCE_HOLE2_AT_2_PITCH, 0, 0) for i in range(1, F_0_CLEARANCE_HOLE2_AT_2_COUNT)]):
        add(f_0_clearance_hole2, mode=Mode.SUBTRACT)

    # Sketch28 → #0-80 Tapped Hole7 (revolve, cut)
    with BuildSketch(Plane(origin=(6.2002, 7.4, 2.2), x_dir=(0, 0, 1), z_dir=(1, 0, 0))):
        Polygon((0, 0), (0, 7.4), (1.000000032, 7.4), (0.59563, 6.995629968), (0.59563, 0.304369978), (0.899999978, 0), align=None)
    f_0_80_tapped_hole7 = revolve(axis=Axis((6.2002, 13.75, 2.2), (0, -1, 0)), mode=Mode.SUBTRACT)

    # #0-80 Tapped Hole7 at 2: #0-80 Tapped Hole7 ×2
    with Locations(*[(0, 0, -i * F_0_80_TAPPED_HOLE7_AT_2_PITCH) for i in range(1, F_0_80_TAPPED_HOLE7_AT_2_COUNT)]):
        add(f_0_80_tapped_hole7, mode=Mode.SUBTRACT)

    # #2-56 Tapped Hole1
    with Locations(Plane(origin=(9.6002, 0, 0), x_dir=(0, 0, -1), z_dir=(1, 0, 0))):
        with Locations((4.7585, 4.9), (-4.2585, 4.9)):
            CounterSinkHole(F_2_56_TAPPED_HOLE1_D / 2, F_2_56_TAPPED_HOLE1_CSINK_D / 2, depth=F_2_56_TAPPED_HOLE1_DEPTH, counter_sink_angle=F_2_56_TAPPED_HOLE1_CSINK_ANGLE)
            with Locations((0, 0, -(F_2_56_TAPPED_HOLE1_DEPTH + F_2_56_TAPPED_HOLE1_TIP / 2))):  # 118° drill point
                Cone(0, F_2_56_TAPPED_HOLE1_D / 2, F_2_56_TAPPED_HOLE1_TIP, mode=Mode.SUBTRACT)

    # Ø1.0 (1) Diameter Hole1
    with Locations(Plane(origin=(9.6002, 0, 0), x_dir=(0, 0, -1), z_dir=(1, 0, 0))):
        with Locations((4.7585, 4.9), (-4.2585, 4.9)):
            Hole(F_1_0_1_DIAMETER_HOLE1_D / 2, depth=F_1_0_1_DIAMETER_HOLE1_DEPTH)
            with Locations((0, 0, -(F_1_0_1_DIAMETER_HOLE1_DEPTH + F_1_0_1_DIAMETER_HOLE1_TIP / 2))):  # 118° drill point
                Cone(0, F_1_0_1_DIAMETER_HOLE1_D / 2, F_1_0_1_DIAMETER_HOLE1_TIP, mode=Mode.SUBTRACT)

    # Fillet1
    fillet1_edges = [part.edges().sort_by_distance(p)[0] for p in [
        (-12.6998, 3.45, 4),
        (-12.6998, 3.45, -4),
    ]]
    fillet(fillet1_edges, radius=FILLET1_R)

    # Fillet2
    fillet2_edges = [part.edges().sort_by_distance(p)[0] for p in [
        (-4.3254, 6.05, -10.5),
        (5.2758, 6.05, -10.5),
        (9.6002, 3.7, -13),
        (-8.8998, 2.35, 6.8),
        (9.6002, 3.7, 6.8),
        (-8.8998, 3.7, -13),
    ]]
    fillet(fillet2_edges, radius=FILLET2_R)

    # Fillet3
    fillet3_edges = [part.edges().sort_by_distance(p)[0] for p in [
        (-8.8998, 3.45, -4),
        (-8.8998, 3.45, 4),
    ]]
    fillet(fillet3_edges, radius=FILLET3_R)

    # Chamfer A 0.10mm
    chamfer_a_0_10mm_edges = [part.edges().sort_by_distance(p)[0] for p in [
        (0.3502, 0, -13),
        (-8.8998, 0, -3.1),
        (9.6002, 0, -3.1),
        (0.3502, 0, 6.8),
        (-8.782642712, 0, 6.682842712),
        (9.483042712, 0, 6.682842712),
        (9.483042712, 0, -12.882842712),
        (-8.782642712, 0, -12.882842712),
    ]]
    chamfer(chamfer_a_0_10mm_edges, length=CHAMFER_A_0_10MM_SIZE)

    # Chamfer2
    chamfer2_edges = [part.edges().sort_by_distance(p)[0] for p in [
        (-4.3254, 6.05, -13),
        (5.2758, 6.05, -13),
        (9.6002, 6.05, -10.5),
        (9.6002, 6.05, -6.8),
        (4.825, 6.05, 6.8),
        (-8.8998, 6.05, -10.5),
    ]]
    chamfer(chamfer2_edges, length=CHAMFER2_SIZE)


solid = part.part
